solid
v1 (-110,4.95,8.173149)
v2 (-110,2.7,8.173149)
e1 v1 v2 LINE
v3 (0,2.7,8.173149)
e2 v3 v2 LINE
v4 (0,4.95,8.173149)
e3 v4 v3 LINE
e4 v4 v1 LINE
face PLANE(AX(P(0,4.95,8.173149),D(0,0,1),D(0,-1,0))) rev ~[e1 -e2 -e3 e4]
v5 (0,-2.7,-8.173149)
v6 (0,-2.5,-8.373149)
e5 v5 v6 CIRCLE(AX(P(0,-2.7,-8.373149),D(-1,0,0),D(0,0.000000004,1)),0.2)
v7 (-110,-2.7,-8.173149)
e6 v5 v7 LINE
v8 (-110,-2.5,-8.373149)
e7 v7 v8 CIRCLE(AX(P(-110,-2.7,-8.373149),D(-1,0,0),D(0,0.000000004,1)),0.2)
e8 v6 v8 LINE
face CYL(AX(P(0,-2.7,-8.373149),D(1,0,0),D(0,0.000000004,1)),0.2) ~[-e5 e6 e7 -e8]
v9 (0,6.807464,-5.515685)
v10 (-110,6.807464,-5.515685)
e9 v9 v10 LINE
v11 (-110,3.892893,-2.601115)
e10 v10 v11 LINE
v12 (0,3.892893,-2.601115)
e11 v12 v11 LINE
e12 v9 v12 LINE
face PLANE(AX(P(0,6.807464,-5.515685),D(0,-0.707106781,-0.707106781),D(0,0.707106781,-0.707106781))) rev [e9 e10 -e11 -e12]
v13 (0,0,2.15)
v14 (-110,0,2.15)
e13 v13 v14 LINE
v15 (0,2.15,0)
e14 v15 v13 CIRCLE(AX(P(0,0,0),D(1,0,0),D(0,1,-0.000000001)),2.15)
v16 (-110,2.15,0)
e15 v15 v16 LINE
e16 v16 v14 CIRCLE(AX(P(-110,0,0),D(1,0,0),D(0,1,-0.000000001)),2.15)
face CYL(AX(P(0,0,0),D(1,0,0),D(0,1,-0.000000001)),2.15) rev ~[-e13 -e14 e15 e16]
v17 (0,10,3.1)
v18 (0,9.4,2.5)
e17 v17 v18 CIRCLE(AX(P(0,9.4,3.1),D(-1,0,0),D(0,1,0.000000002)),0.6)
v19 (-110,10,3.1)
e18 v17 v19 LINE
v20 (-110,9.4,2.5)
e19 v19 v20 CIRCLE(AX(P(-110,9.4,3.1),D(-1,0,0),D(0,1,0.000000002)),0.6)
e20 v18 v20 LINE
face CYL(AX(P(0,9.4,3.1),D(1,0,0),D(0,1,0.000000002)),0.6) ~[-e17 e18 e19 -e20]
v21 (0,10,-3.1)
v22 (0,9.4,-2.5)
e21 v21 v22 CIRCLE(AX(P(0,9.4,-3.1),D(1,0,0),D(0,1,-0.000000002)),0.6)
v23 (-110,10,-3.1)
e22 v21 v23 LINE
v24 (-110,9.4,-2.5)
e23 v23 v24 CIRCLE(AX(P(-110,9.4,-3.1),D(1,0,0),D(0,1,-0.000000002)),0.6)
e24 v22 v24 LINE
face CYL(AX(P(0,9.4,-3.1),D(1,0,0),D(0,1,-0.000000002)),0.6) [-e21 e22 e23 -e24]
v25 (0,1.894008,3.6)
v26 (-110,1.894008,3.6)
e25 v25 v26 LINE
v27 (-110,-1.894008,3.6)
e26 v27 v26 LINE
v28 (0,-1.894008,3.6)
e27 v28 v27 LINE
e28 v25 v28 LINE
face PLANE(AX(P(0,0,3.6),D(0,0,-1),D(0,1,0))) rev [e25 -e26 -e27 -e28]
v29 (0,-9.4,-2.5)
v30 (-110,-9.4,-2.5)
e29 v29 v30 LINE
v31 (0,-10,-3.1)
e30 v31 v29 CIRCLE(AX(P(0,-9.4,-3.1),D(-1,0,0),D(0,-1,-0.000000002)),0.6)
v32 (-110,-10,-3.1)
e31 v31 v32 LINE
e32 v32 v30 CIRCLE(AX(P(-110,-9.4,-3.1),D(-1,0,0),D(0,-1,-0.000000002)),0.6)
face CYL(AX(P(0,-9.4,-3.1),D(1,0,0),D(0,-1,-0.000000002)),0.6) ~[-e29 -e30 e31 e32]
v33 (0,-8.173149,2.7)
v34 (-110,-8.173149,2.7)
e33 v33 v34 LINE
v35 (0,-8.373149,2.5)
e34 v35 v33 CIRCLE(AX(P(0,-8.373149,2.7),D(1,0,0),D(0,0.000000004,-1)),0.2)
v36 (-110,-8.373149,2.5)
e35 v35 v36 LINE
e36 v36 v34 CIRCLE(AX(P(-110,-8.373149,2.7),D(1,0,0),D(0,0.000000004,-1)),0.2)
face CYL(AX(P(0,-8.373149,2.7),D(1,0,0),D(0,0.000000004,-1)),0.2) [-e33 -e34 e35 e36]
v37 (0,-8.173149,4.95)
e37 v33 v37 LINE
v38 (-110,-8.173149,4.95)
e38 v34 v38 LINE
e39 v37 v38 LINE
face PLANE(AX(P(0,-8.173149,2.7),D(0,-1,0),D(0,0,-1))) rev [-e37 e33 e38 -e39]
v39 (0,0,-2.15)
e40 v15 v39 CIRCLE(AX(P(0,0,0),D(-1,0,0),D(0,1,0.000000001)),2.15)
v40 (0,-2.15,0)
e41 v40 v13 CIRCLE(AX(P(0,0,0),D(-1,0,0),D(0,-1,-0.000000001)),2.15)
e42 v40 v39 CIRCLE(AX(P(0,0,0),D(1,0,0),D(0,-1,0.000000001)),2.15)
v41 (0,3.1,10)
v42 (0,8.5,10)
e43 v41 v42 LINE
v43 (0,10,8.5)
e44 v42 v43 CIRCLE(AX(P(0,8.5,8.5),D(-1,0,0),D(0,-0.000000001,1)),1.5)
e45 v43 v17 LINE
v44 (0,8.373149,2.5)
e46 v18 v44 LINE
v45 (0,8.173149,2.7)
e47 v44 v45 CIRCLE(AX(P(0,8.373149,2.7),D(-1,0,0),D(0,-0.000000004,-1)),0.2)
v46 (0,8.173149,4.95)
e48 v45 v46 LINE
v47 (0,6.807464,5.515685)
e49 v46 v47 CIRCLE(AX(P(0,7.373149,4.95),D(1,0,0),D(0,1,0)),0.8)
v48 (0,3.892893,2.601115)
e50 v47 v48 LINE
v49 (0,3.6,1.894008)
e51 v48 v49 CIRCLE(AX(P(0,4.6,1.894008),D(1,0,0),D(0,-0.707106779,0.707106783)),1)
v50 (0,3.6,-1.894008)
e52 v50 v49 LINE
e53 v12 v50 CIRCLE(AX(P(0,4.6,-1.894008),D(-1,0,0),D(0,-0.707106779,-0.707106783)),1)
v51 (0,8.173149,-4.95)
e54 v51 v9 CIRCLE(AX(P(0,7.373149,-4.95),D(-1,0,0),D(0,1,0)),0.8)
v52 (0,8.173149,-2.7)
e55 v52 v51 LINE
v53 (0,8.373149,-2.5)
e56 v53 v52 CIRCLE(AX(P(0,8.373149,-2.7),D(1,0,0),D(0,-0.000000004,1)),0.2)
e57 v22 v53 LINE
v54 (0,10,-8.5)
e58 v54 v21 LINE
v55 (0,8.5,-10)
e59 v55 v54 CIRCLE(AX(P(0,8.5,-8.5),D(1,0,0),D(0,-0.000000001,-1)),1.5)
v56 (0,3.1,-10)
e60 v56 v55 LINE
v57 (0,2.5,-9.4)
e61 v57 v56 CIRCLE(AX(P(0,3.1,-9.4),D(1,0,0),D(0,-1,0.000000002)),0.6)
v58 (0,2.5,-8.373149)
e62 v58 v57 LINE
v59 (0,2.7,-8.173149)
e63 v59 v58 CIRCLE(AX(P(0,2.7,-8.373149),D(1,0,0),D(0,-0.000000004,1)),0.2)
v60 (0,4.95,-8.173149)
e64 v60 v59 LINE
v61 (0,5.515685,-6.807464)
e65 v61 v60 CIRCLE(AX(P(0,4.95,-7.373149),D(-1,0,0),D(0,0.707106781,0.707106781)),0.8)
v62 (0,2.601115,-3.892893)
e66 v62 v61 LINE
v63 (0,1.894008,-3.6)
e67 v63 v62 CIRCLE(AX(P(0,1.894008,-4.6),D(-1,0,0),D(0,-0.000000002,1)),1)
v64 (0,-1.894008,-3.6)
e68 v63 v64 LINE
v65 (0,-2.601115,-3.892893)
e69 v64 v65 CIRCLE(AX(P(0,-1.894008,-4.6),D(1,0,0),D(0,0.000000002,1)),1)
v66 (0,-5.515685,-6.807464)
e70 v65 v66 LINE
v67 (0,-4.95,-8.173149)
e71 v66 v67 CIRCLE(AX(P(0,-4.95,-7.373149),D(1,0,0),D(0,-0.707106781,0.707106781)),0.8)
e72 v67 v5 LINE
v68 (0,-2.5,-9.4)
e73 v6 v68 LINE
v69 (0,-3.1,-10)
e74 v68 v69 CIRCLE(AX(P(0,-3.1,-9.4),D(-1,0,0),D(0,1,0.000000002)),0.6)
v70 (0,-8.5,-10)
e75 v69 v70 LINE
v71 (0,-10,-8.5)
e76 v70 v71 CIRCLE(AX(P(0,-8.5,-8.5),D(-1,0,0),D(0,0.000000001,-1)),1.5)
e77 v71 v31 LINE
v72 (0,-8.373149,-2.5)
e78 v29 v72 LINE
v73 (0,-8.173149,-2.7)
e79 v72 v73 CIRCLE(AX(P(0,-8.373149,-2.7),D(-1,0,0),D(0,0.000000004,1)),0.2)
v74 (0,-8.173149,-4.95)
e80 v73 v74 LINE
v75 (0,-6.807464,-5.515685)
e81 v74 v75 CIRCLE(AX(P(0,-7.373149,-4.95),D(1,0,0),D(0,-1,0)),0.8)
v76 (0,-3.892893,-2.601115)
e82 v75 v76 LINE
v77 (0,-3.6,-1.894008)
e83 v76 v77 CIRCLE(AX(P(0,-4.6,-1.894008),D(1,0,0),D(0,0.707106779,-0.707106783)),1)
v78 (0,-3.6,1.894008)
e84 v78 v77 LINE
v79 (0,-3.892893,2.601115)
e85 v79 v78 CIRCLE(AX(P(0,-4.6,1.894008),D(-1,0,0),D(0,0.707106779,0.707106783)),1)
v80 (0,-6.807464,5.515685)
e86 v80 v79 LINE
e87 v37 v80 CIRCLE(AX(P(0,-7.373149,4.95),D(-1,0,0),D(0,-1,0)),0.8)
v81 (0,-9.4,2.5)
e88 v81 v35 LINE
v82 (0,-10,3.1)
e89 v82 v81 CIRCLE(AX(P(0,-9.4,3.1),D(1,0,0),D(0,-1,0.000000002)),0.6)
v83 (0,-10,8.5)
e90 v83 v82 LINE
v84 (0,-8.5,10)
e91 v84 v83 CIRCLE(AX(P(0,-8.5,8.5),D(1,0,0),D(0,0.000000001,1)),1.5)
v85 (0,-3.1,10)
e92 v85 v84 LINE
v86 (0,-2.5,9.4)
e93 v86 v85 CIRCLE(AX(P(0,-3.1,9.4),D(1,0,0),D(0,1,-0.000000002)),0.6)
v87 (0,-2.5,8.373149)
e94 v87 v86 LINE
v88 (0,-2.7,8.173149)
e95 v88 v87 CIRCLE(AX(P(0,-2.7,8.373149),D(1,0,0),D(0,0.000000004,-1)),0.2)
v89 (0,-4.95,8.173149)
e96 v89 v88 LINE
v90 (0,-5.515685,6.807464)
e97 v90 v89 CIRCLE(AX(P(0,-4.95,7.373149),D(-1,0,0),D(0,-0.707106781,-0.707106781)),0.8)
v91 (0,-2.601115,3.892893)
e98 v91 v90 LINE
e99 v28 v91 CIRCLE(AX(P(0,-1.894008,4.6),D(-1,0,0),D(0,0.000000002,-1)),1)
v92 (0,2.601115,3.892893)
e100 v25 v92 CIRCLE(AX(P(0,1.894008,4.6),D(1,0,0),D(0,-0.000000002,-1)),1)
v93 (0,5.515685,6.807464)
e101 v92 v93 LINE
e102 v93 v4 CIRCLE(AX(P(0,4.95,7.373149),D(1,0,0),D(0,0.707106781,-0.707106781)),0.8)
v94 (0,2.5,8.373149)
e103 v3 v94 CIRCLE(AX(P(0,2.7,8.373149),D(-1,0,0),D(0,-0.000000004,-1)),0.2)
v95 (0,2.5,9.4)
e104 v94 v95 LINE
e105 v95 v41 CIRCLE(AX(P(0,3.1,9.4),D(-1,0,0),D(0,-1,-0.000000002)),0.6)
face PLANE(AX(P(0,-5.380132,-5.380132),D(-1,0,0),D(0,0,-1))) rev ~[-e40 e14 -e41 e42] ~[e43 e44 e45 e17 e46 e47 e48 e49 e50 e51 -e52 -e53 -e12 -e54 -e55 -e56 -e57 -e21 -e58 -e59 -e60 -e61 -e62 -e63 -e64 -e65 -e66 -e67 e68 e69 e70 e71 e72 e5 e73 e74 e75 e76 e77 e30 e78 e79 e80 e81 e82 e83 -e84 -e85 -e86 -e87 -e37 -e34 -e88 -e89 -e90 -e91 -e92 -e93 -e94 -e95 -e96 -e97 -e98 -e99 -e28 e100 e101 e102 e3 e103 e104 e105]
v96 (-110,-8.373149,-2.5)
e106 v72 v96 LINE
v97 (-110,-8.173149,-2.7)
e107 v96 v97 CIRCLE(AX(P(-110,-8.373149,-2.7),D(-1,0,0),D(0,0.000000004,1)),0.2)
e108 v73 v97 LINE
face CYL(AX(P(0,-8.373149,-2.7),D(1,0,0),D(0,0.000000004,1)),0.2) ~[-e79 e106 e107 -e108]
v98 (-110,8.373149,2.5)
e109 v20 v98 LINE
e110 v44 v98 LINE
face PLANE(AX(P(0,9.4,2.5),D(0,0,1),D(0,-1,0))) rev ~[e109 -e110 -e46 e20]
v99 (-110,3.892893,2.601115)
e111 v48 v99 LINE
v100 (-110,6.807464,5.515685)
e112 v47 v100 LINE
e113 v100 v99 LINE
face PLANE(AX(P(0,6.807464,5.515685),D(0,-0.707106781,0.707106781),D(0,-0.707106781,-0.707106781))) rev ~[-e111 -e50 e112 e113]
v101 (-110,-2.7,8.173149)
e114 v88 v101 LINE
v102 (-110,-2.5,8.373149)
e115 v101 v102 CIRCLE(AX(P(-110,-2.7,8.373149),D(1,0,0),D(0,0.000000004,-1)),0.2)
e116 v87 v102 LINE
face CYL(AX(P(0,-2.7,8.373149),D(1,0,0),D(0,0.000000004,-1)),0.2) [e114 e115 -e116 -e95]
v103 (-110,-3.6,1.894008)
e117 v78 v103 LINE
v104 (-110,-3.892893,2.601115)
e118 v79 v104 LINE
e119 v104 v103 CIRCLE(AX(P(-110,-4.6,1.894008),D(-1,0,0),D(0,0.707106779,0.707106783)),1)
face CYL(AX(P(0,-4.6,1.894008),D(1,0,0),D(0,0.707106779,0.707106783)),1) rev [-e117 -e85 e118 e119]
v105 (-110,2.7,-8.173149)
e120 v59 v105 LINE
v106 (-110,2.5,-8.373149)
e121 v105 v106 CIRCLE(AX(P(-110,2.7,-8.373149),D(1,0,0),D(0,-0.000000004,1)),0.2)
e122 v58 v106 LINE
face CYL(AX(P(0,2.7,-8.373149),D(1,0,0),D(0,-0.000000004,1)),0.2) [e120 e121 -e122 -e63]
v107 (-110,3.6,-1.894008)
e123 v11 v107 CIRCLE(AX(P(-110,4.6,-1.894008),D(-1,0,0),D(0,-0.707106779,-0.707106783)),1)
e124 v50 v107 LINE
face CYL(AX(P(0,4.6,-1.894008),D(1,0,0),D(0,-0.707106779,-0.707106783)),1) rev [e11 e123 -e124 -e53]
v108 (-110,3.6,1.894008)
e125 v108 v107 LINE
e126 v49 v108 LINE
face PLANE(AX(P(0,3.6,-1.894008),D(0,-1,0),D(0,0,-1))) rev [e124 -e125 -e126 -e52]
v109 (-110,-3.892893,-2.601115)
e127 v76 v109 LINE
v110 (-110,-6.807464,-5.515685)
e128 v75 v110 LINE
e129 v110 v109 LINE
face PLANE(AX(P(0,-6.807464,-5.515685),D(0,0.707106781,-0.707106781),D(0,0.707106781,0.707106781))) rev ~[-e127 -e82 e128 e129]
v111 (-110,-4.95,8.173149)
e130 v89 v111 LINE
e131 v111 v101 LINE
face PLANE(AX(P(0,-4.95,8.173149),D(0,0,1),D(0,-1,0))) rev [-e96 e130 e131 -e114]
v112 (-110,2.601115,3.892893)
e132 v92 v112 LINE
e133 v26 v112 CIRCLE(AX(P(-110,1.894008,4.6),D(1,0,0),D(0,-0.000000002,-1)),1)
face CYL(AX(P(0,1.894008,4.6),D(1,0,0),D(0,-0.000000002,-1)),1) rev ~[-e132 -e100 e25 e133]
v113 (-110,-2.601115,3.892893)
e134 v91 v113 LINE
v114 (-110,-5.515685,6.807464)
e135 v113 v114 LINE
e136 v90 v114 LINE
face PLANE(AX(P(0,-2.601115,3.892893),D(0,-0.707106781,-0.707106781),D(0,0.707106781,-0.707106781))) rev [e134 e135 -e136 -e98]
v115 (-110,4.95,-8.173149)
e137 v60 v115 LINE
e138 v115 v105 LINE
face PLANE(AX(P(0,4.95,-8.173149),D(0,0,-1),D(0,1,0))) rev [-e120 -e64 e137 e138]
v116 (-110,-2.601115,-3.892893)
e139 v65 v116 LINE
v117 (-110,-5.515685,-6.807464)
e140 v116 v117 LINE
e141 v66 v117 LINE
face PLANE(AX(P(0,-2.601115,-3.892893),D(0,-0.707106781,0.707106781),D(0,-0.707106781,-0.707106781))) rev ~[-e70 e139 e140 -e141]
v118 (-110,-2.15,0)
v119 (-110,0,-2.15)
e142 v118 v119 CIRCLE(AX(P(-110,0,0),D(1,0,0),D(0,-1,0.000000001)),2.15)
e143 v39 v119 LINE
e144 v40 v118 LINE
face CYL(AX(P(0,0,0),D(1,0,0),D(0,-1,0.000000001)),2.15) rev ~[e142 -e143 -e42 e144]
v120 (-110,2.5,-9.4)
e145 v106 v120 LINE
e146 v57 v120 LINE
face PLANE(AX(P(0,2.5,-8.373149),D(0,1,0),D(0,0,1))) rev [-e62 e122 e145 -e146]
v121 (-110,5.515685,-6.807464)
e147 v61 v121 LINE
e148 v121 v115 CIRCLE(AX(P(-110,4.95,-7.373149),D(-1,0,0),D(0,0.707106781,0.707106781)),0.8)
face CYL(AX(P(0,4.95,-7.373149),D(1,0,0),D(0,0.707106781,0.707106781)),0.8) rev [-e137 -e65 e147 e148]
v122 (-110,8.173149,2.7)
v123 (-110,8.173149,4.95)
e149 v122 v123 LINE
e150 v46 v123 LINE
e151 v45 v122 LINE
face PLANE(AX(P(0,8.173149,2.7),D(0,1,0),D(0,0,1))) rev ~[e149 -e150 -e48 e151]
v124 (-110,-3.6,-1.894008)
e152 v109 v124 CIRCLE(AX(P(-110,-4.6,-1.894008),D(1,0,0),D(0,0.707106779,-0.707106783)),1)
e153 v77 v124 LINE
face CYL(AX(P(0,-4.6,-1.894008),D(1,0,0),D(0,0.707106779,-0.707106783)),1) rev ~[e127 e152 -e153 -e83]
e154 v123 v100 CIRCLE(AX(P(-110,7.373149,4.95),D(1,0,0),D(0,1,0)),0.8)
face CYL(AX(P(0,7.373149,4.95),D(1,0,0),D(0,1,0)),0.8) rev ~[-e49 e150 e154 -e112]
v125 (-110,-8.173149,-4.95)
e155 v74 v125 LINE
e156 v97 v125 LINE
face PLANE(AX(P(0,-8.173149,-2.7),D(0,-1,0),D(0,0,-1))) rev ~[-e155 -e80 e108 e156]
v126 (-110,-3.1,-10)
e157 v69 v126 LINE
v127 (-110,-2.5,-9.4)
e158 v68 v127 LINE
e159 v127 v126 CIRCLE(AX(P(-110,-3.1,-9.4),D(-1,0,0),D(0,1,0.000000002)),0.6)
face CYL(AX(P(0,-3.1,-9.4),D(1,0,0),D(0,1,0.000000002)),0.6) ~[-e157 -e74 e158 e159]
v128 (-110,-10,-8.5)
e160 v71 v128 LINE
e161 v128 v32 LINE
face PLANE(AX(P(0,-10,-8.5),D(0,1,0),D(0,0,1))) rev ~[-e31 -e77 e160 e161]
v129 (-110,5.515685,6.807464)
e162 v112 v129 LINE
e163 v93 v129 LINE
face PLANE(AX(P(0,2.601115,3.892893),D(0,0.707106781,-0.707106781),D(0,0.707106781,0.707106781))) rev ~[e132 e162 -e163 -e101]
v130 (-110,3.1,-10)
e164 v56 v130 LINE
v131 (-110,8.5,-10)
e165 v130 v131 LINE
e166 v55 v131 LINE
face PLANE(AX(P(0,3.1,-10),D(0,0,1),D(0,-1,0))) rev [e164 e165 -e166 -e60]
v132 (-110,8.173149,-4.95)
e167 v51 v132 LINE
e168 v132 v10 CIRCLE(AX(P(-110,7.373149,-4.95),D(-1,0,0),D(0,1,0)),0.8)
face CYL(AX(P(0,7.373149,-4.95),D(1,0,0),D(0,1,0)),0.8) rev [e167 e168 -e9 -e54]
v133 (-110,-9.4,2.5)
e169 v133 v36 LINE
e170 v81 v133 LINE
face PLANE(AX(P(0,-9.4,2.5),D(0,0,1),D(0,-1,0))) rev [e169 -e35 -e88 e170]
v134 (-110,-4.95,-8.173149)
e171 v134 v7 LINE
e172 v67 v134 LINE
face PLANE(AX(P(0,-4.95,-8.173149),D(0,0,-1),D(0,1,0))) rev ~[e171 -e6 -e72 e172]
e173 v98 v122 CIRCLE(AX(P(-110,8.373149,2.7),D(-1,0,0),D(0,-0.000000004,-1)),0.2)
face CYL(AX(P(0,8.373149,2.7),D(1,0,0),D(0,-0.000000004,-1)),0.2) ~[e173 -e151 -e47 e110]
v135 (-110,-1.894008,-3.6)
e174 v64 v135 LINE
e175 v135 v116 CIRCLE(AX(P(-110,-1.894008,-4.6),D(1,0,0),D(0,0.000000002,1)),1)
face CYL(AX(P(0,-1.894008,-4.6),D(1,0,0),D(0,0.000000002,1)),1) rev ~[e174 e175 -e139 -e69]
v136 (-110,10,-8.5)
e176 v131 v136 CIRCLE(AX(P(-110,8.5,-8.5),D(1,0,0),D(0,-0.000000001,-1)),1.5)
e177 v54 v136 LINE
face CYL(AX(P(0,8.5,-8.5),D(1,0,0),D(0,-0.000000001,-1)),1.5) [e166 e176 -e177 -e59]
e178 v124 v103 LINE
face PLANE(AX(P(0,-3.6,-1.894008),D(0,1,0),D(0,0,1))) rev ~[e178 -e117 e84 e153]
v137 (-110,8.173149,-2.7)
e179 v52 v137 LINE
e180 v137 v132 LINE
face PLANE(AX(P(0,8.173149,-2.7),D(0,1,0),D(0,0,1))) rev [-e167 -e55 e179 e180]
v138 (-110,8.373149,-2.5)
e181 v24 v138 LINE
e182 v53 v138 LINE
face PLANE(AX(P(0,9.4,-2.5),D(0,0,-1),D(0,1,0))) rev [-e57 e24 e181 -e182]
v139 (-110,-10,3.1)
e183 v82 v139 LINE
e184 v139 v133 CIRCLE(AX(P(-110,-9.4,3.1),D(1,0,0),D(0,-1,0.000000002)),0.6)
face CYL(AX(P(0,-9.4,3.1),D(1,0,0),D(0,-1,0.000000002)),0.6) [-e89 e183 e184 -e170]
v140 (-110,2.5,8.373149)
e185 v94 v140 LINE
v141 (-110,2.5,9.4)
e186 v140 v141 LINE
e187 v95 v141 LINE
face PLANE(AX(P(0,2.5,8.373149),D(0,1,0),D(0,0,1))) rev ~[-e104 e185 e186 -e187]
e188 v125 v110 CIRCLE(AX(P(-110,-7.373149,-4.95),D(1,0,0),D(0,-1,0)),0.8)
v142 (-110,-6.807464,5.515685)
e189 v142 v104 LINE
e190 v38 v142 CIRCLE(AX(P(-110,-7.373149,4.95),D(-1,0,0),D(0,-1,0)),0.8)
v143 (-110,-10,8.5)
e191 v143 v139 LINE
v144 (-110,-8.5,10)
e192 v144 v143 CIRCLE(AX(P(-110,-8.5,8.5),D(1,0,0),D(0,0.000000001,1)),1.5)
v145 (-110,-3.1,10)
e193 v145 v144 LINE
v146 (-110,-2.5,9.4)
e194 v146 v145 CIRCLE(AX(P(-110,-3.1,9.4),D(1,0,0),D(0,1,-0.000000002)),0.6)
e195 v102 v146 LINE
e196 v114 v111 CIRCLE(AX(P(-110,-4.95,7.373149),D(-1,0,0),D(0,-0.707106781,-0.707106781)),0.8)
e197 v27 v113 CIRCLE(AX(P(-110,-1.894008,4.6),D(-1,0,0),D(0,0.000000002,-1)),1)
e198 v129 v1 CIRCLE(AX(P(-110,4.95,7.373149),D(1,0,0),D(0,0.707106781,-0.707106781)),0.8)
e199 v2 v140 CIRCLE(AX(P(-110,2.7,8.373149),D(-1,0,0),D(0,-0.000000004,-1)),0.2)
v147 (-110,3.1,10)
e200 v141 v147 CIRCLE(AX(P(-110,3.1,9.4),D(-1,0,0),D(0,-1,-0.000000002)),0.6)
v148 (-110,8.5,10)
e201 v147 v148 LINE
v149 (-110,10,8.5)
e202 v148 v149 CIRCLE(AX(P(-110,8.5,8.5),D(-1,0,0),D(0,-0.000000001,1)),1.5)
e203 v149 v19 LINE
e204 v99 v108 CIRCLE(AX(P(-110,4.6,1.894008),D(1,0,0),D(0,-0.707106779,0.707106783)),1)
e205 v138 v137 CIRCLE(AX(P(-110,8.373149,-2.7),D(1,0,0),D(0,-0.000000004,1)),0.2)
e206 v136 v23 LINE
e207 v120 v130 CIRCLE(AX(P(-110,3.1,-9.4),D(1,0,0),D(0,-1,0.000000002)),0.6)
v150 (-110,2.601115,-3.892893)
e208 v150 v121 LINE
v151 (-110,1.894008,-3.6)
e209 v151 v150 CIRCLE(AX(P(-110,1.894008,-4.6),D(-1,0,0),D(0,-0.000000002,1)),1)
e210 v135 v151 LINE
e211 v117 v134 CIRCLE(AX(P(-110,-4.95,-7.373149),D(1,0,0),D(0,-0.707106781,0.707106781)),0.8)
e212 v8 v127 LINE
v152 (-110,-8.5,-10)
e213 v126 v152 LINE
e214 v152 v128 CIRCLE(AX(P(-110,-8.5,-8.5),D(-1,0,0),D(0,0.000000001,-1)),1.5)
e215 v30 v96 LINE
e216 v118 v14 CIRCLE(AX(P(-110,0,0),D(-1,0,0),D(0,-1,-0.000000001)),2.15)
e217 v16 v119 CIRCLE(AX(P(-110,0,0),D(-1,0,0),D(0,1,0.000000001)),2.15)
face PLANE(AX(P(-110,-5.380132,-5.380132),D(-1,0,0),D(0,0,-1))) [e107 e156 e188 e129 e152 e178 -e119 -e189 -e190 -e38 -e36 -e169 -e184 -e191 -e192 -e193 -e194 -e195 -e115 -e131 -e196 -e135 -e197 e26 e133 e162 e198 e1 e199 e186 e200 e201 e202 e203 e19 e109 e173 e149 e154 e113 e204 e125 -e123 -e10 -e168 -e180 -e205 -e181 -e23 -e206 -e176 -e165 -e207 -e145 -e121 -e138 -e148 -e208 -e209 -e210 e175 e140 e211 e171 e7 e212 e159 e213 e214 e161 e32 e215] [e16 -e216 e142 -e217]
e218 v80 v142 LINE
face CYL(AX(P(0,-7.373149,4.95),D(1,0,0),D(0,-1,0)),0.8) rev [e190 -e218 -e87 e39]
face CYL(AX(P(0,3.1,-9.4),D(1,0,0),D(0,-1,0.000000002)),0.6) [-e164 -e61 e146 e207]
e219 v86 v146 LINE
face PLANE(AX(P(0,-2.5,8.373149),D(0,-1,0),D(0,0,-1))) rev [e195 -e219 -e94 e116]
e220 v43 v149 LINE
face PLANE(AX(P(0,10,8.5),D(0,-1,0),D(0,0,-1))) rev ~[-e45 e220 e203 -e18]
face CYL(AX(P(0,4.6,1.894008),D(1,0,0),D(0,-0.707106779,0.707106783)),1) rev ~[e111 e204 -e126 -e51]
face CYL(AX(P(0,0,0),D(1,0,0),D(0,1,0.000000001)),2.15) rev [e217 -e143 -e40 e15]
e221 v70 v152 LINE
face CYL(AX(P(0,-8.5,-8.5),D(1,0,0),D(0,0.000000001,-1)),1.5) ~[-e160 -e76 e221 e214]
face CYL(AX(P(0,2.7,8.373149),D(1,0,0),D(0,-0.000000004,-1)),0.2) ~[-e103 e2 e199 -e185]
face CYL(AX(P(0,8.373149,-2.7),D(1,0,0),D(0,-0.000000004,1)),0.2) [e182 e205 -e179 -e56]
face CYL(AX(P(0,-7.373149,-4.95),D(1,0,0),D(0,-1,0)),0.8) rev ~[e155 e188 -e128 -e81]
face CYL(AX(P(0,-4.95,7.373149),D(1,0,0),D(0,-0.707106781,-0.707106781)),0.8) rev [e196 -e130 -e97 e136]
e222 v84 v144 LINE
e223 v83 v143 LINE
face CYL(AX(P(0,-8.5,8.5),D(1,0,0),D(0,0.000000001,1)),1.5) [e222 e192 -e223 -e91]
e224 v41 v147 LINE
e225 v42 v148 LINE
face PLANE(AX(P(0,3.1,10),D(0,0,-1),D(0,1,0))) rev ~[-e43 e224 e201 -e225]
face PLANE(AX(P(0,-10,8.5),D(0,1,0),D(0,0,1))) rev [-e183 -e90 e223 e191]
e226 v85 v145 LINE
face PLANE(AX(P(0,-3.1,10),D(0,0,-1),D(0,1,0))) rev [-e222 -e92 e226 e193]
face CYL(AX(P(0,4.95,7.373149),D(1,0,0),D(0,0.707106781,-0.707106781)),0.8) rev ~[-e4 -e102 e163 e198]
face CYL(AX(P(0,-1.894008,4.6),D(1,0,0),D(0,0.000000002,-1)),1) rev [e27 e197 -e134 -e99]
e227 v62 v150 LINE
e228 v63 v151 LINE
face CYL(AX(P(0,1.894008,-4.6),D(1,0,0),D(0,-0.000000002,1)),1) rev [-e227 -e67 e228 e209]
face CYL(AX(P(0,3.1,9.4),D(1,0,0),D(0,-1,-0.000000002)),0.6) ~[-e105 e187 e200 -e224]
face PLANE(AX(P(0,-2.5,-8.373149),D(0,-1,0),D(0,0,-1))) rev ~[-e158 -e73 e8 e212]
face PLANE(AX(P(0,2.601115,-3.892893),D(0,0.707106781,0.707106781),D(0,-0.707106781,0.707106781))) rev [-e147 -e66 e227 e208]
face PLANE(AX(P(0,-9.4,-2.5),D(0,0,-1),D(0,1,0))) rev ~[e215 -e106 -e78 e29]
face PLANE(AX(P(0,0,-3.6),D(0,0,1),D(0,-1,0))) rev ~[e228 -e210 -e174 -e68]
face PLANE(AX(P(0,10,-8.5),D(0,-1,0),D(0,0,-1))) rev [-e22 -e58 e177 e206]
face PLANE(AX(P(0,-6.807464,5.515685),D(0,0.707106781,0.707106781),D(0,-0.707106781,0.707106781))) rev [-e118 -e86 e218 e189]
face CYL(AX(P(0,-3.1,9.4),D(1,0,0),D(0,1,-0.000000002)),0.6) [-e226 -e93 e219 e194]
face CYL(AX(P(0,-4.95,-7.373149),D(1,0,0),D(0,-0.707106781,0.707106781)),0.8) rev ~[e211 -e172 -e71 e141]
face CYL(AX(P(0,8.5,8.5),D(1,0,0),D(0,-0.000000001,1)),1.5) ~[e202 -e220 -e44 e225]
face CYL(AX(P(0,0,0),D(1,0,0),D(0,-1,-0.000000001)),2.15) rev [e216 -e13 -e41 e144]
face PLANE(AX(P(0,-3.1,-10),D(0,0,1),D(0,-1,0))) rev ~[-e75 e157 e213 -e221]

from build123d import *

# Parameters (mm, degrees)
BOSS_EXTRUDE1_DEPTH = 110


with BuildPart() as part:
    # Sketch3 → Boss-Extrude1 (new body)
    with BuildSketch(Plane(origin=(0, 0, 0), x_dir=(0, 0, -1), z_dir=(1, 0, 0))):
        with BuildLine():
            Line((-5.515685425, 6.807463915), (-2.601114729, 3.892893219))
            ThreePointArc((-2.601114729, 3.892893219), (-2.27669138, 3.676120467), (-1.894007948, 3.6))
            Line((-1.894007948, 3.6), (0, 3.6))
            Line((0, 3.6), (0, 2.15))
            ThreePointArc((0, 2.15), (-1.52027958, 1.52027958), (-2.15, 0))
            Line((-2.15, 0), (-3.6, 0))
            Line((-3.6, 0), (-3.6, 1.894007948))
            ThreePointArc((-3.6, 1.894007948), (-3.676120467, 2.27669138), (-3.892893219, 2.601114729))
            Line((-3.892893219, 2.601114729), (-6.807463915, 5.515685425))
            ThreePointArc((-6.807463915, 5.515685425), (-7.679296086, 5.689103626), (-8.17314934, 4.95))
            Line((-8.17314934, 4.95), (-8.17314934, 2.7))
            ThreePointArc((-8.17314934, 2.7), (-8.231727984, 2.558578644), (-8.37314934, 2.5))
            Line((-8.37314934, 2.5), (-9.4, 2.5))
            ThreePointArc((-9.4, 2.5), (-9.824264069, 2.675735931), (-10, 3.1))
            Line((-10, 3.1), (-10, 8.5))
            ThreePointArc((-10, 8.5), (-9.560660172, 9.560660172), (-8.5, 10))
            Line((-8.5, 10), (-3.1, 10))
            ThreePointArc((-3.1, 10), (-2.675735931, 9.824264069), (-2.5, 9.4))
            Line((-2.5, 9.4), (-2.5, 8.37314934))
            ThreePointArc((-2.5, 8.37314934), (-2.558578644, 8.231727984), (-2.7, 8.17314934))
            Line((-2.7, 8.17314934), (-4.95, 8.17314934))
            ThreePointArc((-4.95, 8.17314934), (-5.689103626, 7.679296086), (-5.515685425, 6.807463915))
        make_face()
    extrude(amount=-BOSS_EXTRUDE1_DEPTH)

    # Mirror1: part across plane


with BuildPart() as part_1:
    add(part.part)
    add(part.part.mirror(Plane.ZX))

    # Mirror2: part across plane


with BuildPart() as part_2:
    add(part_1.part)
    add(part_1.part.mirror(Plane.XY))


solid = part_2.part
